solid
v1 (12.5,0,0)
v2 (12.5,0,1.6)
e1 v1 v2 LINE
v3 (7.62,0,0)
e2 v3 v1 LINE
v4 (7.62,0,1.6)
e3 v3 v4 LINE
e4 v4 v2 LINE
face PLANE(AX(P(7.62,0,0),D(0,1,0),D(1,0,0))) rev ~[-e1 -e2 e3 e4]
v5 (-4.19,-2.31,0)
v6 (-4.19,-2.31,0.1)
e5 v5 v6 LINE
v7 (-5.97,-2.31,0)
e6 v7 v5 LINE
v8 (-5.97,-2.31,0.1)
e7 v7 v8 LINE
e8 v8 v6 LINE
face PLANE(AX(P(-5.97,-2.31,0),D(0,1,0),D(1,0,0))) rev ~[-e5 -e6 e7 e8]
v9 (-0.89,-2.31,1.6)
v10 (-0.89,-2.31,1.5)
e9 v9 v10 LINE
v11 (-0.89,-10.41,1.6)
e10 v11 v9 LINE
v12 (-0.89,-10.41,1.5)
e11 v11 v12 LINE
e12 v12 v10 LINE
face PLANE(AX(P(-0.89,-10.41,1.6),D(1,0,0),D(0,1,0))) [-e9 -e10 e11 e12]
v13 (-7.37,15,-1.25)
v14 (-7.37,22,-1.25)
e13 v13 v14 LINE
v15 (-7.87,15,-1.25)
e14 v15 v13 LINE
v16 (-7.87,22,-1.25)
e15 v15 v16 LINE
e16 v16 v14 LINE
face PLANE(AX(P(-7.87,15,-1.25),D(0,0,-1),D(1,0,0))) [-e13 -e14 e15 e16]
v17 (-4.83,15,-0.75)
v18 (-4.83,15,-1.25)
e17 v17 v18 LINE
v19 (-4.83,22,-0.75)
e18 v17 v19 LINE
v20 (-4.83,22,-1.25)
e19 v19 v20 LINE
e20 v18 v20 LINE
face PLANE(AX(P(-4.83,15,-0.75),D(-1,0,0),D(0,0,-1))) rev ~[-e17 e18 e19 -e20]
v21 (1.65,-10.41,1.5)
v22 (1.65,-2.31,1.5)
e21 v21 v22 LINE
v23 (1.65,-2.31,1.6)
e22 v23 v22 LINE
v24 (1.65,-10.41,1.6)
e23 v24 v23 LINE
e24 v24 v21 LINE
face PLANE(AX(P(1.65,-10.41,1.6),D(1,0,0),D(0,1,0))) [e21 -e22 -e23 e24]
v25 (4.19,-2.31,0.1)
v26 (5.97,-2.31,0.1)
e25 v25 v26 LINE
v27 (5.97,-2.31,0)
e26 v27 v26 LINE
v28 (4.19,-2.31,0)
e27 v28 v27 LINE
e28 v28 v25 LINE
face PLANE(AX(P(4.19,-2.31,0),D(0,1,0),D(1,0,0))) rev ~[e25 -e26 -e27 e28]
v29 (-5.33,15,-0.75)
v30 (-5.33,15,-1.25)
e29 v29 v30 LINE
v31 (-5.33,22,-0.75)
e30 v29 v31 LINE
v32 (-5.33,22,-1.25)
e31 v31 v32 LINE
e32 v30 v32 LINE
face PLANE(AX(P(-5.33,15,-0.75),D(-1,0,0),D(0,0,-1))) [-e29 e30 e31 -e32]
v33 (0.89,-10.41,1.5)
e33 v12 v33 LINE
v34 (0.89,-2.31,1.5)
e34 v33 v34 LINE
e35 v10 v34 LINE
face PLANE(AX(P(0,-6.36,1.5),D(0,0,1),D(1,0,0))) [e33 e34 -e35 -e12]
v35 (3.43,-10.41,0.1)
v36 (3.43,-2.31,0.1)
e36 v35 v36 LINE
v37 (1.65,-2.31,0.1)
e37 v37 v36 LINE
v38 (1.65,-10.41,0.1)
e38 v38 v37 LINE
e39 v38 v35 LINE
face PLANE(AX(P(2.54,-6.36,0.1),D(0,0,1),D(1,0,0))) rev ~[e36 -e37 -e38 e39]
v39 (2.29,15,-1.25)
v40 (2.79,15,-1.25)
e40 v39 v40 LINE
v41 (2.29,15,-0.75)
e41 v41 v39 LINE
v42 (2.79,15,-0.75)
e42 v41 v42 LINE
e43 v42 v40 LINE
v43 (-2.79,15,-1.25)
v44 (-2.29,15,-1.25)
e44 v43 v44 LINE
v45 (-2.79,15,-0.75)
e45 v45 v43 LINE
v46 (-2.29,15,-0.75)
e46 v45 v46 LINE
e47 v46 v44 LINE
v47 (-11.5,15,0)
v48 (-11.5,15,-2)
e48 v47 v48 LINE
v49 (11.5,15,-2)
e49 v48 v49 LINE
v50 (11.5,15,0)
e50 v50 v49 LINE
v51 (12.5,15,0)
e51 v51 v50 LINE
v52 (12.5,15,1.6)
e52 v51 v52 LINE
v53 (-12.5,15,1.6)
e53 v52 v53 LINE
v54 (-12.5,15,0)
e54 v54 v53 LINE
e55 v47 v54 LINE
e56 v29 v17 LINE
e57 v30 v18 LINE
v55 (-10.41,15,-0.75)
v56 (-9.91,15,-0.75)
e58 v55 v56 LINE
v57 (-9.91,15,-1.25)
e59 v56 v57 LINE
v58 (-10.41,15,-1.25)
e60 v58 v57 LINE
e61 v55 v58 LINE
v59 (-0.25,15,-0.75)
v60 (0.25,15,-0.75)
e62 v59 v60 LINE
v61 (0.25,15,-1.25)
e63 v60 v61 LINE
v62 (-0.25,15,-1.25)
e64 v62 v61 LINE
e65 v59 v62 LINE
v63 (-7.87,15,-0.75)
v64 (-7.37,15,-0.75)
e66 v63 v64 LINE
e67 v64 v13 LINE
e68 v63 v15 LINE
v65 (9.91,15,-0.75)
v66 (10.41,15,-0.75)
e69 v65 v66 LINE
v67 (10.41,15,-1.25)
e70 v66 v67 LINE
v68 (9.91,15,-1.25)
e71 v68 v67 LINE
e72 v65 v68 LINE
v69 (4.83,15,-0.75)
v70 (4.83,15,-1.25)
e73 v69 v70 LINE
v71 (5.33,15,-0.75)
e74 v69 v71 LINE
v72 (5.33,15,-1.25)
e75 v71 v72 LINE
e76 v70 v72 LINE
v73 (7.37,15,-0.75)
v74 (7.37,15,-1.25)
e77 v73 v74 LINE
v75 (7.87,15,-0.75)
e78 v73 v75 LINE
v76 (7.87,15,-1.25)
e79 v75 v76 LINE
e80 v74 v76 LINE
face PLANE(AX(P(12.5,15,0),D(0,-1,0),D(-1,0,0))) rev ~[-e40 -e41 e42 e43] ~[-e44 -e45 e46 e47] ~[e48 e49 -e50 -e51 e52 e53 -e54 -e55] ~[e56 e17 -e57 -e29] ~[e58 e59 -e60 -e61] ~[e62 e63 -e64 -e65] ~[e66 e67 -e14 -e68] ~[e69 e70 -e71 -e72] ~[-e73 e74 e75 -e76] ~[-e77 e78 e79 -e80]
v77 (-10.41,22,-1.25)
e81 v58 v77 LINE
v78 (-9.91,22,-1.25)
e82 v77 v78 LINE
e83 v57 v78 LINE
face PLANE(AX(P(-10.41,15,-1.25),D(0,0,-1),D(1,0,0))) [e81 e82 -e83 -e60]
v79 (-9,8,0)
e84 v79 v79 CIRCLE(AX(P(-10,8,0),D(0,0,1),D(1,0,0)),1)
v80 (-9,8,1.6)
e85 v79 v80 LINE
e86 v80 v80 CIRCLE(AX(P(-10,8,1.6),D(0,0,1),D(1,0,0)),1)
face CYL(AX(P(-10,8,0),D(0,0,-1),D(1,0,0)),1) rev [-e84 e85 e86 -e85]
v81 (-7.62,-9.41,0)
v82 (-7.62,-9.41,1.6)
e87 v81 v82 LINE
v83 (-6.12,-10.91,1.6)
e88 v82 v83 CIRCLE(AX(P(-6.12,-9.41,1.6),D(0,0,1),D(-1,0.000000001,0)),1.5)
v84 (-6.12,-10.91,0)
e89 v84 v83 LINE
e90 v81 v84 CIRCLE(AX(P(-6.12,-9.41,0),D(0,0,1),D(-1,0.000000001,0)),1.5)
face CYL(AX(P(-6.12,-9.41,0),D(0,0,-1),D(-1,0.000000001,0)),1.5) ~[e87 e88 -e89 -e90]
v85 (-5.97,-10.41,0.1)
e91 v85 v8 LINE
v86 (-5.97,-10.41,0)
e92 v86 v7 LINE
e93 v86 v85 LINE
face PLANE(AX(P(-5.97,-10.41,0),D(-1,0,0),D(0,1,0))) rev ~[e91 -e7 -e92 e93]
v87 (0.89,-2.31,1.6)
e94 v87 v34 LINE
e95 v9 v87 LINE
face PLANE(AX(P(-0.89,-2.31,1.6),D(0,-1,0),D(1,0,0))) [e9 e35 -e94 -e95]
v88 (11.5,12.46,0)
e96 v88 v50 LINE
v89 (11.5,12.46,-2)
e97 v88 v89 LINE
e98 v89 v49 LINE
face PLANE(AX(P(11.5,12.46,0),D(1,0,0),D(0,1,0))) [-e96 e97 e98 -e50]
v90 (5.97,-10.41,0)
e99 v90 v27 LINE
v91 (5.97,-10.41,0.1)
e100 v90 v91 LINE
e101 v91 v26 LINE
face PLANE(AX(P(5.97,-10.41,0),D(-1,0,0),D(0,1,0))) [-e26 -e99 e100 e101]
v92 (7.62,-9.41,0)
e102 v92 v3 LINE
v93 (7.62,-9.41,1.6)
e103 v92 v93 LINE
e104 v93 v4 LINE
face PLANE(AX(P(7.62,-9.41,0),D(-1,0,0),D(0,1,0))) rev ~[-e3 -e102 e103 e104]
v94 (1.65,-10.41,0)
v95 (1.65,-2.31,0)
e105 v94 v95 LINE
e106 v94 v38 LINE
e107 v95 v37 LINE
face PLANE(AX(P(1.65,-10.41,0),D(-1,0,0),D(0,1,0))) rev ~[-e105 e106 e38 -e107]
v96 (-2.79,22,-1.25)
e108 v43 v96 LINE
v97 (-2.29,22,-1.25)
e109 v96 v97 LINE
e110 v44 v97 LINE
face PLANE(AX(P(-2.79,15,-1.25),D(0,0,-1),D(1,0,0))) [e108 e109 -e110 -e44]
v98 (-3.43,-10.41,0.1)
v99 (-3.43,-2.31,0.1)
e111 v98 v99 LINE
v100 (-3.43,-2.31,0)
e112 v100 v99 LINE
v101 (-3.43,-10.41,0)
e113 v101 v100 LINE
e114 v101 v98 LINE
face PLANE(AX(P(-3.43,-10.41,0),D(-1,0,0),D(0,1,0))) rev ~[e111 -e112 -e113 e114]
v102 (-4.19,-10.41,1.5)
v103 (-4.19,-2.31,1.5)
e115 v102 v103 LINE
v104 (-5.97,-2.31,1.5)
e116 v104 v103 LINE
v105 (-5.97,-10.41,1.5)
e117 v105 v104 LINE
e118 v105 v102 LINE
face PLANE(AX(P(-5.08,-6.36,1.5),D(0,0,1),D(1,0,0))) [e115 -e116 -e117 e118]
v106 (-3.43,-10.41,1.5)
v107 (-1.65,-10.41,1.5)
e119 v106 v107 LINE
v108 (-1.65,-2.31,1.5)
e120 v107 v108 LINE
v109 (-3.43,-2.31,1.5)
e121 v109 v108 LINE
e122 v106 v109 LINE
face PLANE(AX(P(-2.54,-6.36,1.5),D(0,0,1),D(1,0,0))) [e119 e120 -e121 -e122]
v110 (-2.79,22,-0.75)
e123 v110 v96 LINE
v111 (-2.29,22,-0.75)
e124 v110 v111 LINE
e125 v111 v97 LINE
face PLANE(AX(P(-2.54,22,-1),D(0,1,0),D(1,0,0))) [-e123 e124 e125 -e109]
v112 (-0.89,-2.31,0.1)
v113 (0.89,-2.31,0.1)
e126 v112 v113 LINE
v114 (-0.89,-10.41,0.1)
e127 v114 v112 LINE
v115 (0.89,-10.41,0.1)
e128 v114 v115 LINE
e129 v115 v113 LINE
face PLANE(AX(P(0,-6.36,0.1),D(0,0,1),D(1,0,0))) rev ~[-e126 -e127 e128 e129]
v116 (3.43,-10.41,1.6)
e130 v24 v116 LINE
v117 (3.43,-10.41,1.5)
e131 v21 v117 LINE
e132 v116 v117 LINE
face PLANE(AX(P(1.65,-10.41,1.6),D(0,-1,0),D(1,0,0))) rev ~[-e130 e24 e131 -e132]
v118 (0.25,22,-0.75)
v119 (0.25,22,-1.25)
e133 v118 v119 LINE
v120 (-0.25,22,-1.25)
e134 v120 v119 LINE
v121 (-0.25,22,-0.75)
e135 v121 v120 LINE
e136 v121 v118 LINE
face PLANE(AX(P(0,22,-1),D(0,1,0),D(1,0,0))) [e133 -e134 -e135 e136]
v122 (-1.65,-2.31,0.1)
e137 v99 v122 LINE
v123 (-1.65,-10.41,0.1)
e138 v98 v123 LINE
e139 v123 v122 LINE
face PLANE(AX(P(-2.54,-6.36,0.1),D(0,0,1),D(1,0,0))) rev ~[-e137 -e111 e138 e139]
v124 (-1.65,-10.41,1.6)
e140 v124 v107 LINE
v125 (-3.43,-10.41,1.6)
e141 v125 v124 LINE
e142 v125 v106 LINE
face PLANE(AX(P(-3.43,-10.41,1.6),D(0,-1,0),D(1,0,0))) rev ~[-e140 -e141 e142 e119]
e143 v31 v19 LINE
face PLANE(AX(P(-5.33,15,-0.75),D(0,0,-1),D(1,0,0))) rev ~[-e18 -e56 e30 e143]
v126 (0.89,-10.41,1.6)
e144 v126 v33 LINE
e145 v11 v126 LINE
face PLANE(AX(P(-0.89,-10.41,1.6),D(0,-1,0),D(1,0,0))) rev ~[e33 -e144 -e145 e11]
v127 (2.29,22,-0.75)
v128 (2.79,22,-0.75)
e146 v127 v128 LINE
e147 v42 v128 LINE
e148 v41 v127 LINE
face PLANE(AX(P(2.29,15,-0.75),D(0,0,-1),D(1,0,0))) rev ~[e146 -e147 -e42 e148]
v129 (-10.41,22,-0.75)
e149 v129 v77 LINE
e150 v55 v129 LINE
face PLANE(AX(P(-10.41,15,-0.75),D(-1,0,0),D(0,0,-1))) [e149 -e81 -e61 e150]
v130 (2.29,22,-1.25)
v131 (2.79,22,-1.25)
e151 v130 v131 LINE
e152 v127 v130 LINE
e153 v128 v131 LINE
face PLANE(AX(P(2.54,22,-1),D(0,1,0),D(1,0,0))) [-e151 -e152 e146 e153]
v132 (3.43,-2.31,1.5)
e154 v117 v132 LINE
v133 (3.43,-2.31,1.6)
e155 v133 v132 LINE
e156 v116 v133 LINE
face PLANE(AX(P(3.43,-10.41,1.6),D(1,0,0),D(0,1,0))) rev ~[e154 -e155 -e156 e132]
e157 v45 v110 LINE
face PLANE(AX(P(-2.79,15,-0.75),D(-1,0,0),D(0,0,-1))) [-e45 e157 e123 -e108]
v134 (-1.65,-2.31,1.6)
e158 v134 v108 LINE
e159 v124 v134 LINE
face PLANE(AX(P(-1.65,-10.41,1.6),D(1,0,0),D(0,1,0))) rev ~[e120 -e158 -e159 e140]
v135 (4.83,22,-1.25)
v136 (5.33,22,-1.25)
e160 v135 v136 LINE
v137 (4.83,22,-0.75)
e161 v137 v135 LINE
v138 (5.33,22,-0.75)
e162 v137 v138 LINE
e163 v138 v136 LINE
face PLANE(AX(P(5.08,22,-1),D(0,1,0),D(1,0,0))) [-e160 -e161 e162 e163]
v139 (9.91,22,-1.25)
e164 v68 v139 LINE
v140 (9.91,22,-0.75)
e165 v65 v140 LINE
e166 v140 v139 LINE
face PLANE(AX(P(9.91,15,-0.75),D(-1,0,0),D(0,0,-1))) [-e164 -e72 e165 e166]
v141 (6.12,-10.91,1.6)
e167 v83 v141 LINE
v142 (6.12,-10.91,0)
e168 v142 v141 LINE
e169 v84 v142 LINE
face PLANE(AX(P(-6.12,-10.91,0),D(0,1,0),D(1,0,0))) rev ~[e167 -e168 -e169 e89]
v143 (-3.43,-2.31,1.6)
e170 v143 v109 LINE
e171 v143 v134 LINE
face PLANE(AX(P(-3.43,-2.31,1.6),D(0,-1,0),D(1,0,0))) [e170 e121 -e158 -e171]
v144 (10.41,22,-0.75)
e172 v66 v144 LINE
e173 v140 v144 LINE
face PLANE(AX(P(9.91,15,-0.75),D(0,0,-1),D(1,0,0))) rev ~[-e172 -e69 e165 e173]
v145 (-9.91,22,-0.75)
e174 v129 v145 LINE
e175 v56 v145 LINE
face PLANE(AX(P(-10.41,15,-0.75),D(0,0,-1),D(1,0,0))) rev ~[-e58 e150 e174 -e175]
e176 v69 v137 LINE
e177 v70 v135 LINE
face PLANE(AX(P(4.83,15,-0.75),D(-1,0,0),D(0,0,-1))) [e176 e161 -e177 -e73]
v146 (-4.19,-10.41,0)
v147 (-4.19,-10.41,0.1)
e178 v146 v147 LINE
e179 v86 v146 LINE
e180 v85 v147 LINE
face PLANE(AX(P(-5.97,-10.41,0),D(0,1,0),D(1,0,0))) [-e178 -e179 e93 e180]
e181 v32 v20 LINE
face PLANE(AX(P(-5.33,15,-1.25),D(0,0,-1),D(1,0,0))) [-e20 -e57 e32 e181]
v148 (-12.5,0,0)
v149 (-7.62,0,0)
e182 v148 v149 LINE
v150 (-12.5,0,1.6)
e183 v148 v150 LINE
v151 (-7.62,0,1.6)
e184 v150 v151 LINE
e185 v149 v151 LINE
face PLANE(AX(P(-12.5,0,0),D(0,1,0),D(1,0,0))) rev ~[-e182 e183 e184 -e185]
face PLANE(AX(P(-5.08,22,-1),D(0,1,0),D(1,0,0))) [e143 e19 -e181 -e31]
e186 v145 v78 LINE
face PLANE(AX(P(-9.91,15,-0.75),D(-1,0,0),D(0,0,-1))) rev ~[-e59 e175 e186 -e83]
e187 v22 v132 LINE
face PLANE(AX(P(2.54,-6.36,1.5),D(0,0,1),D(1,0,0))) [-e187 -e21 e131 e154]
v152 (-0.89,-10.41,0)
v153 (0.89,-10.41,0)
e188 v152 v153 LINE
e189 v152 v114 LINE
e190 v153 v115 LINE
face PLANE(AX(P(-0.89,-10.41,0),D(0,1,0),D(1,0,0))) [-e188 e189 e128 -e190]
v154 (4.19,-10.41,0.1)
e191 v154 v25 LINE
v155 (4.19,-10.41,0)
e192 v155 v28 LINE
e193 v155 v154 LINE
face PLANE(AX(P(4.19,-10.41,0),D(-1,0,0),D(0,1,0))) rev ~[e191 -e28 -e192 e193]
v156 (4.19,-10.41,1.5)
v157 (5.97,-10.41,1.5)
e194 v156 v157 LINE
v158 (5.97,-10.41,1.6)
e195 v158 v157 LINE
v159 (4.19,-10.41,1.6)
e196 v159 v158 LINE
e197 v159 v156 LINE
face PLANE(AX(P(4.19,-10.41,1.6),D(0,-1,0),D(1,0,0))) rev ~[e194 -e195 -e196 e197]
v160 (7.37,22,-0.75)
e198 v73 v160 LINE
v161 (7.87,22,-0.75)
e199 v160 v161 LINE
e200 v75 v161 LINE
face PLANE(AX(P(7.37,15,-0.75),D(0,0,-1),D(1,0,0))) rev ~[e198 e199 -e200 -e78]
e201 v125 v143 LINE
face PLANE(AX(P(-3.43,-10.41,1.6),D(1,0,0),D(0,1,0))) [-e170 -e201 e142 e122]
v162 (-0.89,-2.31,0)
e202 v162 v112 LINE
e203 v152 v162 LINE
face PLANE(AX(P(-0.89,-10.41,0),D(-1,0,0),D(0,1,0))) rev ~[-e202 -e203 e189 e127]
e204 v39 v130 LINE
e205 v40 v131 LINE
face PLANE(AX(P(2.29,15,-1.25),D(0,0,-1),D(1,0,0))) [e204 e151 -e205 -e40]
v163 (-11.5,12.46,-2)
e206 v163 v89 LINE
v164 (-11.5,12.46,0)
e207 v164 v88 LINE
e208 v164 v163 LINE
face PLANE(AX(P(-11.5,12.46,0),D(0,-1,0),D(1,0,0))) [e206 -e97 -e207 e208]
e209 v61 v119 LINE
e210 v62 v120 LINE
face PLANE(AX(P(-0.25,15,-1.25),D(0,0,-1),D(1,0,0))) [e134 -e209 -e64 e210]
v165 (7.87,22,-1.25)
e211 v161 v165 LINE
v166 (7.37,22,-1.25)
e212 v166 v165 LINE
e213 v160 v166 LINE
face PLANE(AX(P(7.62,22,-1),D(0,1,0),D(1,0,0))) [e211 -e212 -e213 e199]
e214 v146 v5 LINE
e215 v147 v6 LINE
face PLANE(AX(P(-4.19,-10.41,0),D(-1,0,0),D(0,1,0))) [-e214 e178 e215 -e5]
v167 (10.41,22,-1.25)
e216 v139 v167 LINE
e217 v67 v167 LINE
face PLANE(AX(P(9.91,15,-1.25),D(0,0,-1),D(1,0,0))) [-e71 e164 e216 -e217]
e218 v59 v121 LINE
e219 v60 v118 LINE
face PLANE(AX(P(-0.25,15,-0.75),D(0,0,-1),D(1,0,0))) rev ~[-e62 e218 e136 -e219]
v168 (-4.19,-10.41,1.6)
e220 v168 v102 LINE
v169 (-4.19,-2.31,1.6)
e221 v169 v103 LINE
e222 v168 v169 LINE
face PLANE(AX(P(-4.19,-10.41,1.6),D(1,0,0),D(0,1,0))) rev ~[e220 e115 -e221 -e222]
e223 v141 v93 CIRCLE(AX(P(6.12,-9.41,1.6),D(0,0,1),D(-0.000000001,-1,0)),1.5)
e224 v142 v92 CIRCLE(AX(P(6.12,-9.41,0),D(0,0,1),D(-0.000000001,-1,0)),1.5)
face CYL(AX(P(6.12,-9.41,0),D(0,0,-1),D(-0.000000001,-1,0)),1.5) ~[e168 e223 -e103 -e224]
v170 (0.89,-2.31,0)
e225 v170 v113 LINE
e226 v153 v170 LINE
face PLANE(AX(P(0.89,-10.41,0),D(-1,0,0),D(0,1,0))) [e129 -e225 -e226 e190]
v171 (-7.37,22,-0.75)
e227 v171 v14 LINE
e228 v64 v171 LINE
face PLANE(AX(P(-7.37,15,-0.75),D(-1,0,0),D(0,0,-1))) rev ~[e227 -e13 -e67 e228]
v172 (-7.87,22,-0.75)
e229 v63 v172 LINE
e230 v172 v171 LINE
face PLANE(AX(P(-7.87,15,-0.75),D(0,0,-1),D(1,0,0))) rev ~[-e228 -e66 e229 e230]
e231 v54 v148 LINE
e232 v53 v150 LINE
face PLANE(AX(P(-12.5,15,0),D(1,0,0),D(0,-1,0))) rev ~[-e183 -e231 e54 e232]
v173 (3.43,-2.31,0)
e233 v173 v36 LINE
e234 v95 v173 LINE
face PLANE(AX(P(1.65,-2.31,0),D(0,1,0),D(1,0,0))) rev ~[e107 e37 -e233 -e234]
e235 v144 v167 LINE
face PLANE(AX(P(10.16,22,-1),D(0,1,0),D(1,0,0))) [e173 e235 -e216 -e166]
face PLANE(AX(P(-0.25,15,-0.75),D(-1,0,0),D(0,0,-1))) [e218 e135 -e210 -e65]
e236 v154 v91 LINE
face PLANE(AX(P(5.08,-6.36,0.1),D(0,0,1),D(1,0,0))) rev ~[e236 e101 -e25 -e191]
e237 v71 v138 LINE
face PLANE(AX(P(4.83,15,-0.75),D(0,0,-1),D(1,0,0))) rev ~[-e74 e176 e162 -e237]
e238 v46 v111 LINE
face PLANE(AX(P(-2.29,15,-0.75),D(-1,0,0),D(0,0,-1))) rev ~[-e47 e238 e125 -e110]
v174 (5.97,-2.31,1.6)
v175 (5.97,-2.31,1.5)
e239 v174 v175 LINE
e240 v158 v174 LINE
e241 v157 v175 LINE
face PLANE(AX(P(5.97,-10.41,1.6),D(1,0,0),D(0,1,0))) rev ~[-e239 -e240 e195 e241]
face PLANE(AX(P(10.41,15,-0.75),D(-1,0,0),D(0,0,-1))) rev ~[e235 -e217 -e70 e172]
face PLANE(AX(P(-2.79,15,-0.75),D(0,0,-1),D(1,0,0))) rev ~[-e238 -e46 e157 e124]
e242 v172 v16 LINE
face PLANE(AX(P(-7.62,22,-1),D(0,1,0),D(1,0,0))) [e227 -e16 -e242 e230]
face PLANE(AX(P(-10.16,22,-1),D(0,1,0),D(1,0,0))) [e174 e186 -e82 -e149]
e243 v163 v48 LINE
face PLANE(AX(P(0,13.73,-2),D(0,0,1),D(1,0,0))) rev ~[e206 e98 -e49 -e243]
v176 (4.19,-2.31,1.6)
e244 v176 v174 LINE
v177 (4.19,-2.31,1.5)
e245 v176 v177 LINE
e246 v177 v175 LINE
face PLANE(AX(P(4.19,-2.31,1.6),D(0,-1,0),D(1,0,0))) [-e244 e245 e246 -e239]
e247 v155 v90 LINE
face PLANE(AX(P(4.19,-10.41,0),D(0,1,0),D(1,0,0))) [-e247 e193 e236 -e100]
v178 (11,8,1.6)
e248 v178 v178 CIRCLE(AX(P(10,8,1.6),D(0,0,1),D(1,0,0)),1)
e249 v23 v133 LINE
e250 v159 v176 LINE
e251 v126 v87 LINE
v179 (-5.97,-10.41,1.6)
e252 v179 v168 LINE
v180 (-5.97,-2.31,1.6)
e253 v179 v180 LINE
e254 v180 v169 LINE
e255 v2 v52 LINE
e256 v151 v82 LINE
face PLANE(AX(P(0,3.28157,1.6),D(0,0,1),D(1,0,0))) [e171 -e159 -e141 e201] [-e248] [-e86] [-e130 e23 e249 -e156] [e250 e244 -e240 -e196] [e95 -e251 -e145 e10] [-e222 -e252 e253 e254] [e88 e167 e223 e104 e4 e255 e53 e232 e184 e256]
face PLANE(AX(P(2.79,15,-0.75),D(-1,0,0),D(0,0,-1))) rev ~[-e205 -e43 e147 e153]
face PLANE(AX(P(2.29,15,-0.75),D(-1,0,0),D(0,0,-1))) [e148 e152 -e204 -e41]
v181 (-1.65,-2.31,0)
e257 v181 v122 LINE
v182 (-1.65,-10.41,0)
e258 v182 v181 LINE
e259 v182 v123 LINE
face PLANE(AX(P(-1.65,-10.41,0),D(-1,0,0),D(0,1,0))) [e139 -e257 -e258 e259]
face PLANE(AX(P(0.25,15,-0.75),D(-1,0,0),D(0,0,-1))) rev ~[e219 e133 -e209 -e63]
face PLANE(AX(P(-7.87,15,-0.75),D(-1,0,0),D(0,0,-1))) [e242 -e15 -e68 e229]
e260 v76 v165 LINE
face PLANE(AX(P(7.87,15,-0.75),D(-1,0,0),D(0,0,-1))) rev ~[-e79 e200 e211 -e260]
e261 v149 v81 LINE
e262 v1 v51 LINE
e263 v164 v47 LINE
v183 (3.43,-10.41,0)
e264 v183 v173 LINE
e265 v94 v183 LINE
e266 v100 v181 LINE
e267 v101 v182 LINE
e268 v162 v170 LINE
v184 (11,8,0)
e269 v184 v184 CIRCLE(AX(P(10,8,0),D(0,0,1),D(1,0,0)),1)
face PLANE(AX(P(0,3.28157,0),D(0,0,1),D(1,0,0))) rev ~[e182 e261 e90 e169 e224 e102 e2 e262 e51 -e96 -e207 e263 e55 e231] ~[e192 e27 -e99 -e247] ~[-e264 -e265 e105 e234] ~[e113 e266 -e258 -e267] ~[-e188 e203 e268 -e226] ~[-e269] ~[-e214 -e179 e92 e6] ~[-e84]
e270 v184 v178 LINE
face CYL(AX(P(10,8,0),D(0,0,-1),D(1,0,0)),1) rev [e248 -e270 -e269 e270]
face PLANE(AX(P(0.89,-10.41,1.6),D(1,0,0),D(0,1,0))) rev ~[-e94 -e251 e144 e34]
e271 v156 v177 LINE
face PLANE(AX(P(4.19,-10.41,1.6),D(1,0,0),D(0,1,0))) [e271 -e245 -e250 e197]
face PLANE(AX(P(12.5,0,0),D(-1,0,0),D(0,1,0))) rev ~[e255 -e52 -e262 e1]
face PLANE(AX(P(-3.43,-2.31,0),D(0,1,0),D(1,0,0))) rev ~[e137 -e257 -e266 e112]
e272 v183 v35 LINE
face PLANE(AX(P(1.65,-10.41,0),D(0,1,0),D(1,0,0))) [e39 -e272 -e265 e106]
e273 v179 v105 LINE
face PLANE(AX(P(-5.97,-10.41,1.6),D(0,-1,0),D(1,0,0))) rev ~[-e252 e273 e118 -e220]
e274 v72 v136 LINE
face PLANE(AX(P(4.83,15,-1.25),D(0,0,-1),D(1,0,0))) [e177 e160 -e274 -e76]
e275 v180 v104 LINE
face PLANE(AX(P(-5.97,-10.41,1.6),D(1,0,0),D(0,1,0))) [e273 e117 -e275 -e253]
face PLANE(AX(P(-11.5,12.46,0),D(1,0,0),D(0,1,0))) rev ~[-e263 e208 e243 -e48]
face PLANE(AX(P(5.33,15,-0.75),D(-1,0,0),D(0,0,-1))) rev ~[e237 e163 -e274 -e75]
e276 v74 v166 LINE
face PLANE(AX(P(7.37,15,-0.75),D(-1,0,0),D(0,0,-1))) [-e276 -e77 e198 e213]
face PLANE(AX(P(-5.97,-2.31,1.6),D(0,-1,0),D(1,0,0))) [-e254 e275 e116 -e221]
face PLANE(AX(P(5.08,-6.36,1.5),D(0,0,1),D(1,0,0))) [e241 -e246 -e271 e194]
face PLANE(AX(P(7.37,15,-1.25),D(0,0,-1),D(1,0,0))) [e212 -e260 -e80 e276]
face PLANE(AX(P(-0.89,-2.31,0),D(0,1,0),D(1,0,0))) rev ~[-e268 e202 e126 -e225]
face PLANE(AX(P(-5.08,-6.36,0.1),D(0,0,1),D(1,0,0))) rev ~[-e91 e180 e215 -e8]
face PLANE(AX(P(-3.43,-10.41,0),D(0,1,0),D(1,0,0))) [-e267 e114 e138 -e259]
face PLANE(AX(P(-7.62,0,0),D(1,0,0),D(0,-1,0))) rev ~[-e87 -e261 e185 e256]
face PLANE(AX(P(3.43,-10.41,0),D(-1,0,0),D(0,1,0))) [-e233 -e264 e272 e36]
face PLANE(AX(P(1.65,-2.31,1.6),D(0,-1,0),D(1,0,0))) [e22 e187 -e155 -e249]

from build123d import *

# Parameters (mm, degrees)
SKETCH_1_R          = 1
EXTRUDE_1_DEPTH     = 1.6
SKETCH_2_W          = 1.78
SKETCH_2_H          = 8.1
CUT_EXTRUDE_1_DEPTH = 0.1
CUT_EXTRUDE_START   = 1.6
SKETCH_3_W          = 1.78
SKETCH_3_H          = 8.1
CUT_EXTRUDE_2_DEPTH = 0.1
SKETCH_4_W          = 23
SKETCH_4_H          = 2.54
EXTRUDE_2_DEPTH     = 2
EXTRUDE_START       = 15
SKETCH_5_W          = 0.5
SKETCH_5_H          = 0.5
EXTRUDE_3_DEPTH     = 7


with BuildPart() as part:
    # 草图1 → 凸台-拉伸1 (new body)
    with BuildSketch(Plane.XY):
        with BuildLine():
            Line((-12.5, 0), (-7.62, 0))
            Line((-7.62, 0), (-7.62, -9.41))
            ThreePointArc((-7.62, -9.41), (-7.180660172, -10.470660172), (-6.12, -10.91))
            Line((-6.12, -10.91), (6.12, -10.91))
            ThreePointArc((6.12, -10.91), (7.180660172, -10.470660172), (7.62, -9.41))
            Line((7.62, -9.41), (7.62, 0))
            Line((7.62, 0), (12.5, 0))
            Line((12.5, 0), (12.5, 15))
            Line((12.5, 15), (-12.5, 15))
            Line((-12.5, 15), (-12.5, 0))
        make_face()
        with Locations((-10, 8)):
            Circle(SKETCH_1_R, mode=Mode.SUBTRACT)
        with Locations((10, 8)):
            Circle(SKETCH_1_R, mode=Mode.SUBTRACT)
    extrude(amount=EXTRUDE_1_DEPTH)

    # 草图2 → 切除-拉伸1 (cut)
    with BuildSketch(Plane.XY):
        with Locations((0, -6.36)):
            Rectangle(SKETCH_2_W, SKETCH_2_H)
        with Locations((2.54, -6.36)):
            Rectangle(SKETCH_2_W, SKETCH_2_H)
        with Locations((5.08, -6.36)):
            Rectangle(SKETCH_2_W, SKETCH_2_H)
        with Locations((-2.54, -6.36)):
            Rectangle(SKETCH_2_W, SKETCH_2_H)
        with Locations((-5.08, -6.36)):
            Rectangle(SKETCH_2_W, SKETCH_2_H)
    extrude(amount=CUT_EXTRUDE_1_DEPTH, mode=Mode.SUBTRACT)

    # 草图3 → 切除-拉伸2 (cut)
    with BuildSketch(Plane.XY.offset(CUT_EXTRUDE_START)):
        with Locations((2.54, -6.36)):
            Rectangle(SKETCH_3_W, SKETCH_3_H)
        with Locations((0, -6.36)):
            Rectangle(SKETCH_3_W, SKETCH_3_H)
        with Locations((-5.08, -6.36)):
            Rectangle(SKETCH_3_W, SKETCH_3_H)
        with Locations((-2.54, -6.36)):
            Rectangle(SKETCH_3_W, SKETCH_3_H)
        with Locations((5.08, -6.36)):
            Rectangle(SKETCH_3_W, SKETCH_3_H)
    extrude(amount=-CUT_EXTRUDE_2_DEPTH, mode=Mode.SUBTRACT)

    # 草图4 → 凸台-拉伸2 (add)
    with BuildSketch(Plane.XY):
        with Locations((0, 13.73)):
            Rectangle(SKETCH_4_W, SKETCH_4_H)
    extrude(amount=-EXTRUDE_2_DEPTH)

    # 草图5 → 凸台-拉伸3 (add)
    with BuildSketch(Plane(origin=(0, 0, 0), x_dir=(1, 0, 0), z_dir=(0, 1, 0)).offset(EXTRUDE_START)):
        with Locations((2.54, 1)):
            Rectangle(SKETCH_5_W, SKETCH_5_H)
        with Locations((0, 1)):
            Rectangle(SKETCH_5_W, SKETCH_5_H)
        with Locations((5.08, 1)):
            Rectangle(SKETCH_5_W, SKETCH_5_H)
        with Locations((7.62, 1)):
            Rectangle(SKETCH_5_W, SKETCH_5_H)
        with Locations((10.16, 1)):
            Rectangle(SKETCH_5_W, SKETCH_5_H)
        with Locations((-2.54, 1)):
            Rectangle(SKETCH_5_W, SKETCH_5_H)
        with Locations((-5.08, 1)):
            Rectangle(SKETCH_5_W, SKETCH_5_H)
        with Locations((-7.62, 1)):
            Rectangle(SKETCH_5_W, SKETCH_5_H)
        with Locations((-10.16, 1)):
            Rectangle(SKETCH_5_W, SKETCH_5_H)
    extrude(amount=EXTRUDE_3_DEPTH)


solid = part.part
